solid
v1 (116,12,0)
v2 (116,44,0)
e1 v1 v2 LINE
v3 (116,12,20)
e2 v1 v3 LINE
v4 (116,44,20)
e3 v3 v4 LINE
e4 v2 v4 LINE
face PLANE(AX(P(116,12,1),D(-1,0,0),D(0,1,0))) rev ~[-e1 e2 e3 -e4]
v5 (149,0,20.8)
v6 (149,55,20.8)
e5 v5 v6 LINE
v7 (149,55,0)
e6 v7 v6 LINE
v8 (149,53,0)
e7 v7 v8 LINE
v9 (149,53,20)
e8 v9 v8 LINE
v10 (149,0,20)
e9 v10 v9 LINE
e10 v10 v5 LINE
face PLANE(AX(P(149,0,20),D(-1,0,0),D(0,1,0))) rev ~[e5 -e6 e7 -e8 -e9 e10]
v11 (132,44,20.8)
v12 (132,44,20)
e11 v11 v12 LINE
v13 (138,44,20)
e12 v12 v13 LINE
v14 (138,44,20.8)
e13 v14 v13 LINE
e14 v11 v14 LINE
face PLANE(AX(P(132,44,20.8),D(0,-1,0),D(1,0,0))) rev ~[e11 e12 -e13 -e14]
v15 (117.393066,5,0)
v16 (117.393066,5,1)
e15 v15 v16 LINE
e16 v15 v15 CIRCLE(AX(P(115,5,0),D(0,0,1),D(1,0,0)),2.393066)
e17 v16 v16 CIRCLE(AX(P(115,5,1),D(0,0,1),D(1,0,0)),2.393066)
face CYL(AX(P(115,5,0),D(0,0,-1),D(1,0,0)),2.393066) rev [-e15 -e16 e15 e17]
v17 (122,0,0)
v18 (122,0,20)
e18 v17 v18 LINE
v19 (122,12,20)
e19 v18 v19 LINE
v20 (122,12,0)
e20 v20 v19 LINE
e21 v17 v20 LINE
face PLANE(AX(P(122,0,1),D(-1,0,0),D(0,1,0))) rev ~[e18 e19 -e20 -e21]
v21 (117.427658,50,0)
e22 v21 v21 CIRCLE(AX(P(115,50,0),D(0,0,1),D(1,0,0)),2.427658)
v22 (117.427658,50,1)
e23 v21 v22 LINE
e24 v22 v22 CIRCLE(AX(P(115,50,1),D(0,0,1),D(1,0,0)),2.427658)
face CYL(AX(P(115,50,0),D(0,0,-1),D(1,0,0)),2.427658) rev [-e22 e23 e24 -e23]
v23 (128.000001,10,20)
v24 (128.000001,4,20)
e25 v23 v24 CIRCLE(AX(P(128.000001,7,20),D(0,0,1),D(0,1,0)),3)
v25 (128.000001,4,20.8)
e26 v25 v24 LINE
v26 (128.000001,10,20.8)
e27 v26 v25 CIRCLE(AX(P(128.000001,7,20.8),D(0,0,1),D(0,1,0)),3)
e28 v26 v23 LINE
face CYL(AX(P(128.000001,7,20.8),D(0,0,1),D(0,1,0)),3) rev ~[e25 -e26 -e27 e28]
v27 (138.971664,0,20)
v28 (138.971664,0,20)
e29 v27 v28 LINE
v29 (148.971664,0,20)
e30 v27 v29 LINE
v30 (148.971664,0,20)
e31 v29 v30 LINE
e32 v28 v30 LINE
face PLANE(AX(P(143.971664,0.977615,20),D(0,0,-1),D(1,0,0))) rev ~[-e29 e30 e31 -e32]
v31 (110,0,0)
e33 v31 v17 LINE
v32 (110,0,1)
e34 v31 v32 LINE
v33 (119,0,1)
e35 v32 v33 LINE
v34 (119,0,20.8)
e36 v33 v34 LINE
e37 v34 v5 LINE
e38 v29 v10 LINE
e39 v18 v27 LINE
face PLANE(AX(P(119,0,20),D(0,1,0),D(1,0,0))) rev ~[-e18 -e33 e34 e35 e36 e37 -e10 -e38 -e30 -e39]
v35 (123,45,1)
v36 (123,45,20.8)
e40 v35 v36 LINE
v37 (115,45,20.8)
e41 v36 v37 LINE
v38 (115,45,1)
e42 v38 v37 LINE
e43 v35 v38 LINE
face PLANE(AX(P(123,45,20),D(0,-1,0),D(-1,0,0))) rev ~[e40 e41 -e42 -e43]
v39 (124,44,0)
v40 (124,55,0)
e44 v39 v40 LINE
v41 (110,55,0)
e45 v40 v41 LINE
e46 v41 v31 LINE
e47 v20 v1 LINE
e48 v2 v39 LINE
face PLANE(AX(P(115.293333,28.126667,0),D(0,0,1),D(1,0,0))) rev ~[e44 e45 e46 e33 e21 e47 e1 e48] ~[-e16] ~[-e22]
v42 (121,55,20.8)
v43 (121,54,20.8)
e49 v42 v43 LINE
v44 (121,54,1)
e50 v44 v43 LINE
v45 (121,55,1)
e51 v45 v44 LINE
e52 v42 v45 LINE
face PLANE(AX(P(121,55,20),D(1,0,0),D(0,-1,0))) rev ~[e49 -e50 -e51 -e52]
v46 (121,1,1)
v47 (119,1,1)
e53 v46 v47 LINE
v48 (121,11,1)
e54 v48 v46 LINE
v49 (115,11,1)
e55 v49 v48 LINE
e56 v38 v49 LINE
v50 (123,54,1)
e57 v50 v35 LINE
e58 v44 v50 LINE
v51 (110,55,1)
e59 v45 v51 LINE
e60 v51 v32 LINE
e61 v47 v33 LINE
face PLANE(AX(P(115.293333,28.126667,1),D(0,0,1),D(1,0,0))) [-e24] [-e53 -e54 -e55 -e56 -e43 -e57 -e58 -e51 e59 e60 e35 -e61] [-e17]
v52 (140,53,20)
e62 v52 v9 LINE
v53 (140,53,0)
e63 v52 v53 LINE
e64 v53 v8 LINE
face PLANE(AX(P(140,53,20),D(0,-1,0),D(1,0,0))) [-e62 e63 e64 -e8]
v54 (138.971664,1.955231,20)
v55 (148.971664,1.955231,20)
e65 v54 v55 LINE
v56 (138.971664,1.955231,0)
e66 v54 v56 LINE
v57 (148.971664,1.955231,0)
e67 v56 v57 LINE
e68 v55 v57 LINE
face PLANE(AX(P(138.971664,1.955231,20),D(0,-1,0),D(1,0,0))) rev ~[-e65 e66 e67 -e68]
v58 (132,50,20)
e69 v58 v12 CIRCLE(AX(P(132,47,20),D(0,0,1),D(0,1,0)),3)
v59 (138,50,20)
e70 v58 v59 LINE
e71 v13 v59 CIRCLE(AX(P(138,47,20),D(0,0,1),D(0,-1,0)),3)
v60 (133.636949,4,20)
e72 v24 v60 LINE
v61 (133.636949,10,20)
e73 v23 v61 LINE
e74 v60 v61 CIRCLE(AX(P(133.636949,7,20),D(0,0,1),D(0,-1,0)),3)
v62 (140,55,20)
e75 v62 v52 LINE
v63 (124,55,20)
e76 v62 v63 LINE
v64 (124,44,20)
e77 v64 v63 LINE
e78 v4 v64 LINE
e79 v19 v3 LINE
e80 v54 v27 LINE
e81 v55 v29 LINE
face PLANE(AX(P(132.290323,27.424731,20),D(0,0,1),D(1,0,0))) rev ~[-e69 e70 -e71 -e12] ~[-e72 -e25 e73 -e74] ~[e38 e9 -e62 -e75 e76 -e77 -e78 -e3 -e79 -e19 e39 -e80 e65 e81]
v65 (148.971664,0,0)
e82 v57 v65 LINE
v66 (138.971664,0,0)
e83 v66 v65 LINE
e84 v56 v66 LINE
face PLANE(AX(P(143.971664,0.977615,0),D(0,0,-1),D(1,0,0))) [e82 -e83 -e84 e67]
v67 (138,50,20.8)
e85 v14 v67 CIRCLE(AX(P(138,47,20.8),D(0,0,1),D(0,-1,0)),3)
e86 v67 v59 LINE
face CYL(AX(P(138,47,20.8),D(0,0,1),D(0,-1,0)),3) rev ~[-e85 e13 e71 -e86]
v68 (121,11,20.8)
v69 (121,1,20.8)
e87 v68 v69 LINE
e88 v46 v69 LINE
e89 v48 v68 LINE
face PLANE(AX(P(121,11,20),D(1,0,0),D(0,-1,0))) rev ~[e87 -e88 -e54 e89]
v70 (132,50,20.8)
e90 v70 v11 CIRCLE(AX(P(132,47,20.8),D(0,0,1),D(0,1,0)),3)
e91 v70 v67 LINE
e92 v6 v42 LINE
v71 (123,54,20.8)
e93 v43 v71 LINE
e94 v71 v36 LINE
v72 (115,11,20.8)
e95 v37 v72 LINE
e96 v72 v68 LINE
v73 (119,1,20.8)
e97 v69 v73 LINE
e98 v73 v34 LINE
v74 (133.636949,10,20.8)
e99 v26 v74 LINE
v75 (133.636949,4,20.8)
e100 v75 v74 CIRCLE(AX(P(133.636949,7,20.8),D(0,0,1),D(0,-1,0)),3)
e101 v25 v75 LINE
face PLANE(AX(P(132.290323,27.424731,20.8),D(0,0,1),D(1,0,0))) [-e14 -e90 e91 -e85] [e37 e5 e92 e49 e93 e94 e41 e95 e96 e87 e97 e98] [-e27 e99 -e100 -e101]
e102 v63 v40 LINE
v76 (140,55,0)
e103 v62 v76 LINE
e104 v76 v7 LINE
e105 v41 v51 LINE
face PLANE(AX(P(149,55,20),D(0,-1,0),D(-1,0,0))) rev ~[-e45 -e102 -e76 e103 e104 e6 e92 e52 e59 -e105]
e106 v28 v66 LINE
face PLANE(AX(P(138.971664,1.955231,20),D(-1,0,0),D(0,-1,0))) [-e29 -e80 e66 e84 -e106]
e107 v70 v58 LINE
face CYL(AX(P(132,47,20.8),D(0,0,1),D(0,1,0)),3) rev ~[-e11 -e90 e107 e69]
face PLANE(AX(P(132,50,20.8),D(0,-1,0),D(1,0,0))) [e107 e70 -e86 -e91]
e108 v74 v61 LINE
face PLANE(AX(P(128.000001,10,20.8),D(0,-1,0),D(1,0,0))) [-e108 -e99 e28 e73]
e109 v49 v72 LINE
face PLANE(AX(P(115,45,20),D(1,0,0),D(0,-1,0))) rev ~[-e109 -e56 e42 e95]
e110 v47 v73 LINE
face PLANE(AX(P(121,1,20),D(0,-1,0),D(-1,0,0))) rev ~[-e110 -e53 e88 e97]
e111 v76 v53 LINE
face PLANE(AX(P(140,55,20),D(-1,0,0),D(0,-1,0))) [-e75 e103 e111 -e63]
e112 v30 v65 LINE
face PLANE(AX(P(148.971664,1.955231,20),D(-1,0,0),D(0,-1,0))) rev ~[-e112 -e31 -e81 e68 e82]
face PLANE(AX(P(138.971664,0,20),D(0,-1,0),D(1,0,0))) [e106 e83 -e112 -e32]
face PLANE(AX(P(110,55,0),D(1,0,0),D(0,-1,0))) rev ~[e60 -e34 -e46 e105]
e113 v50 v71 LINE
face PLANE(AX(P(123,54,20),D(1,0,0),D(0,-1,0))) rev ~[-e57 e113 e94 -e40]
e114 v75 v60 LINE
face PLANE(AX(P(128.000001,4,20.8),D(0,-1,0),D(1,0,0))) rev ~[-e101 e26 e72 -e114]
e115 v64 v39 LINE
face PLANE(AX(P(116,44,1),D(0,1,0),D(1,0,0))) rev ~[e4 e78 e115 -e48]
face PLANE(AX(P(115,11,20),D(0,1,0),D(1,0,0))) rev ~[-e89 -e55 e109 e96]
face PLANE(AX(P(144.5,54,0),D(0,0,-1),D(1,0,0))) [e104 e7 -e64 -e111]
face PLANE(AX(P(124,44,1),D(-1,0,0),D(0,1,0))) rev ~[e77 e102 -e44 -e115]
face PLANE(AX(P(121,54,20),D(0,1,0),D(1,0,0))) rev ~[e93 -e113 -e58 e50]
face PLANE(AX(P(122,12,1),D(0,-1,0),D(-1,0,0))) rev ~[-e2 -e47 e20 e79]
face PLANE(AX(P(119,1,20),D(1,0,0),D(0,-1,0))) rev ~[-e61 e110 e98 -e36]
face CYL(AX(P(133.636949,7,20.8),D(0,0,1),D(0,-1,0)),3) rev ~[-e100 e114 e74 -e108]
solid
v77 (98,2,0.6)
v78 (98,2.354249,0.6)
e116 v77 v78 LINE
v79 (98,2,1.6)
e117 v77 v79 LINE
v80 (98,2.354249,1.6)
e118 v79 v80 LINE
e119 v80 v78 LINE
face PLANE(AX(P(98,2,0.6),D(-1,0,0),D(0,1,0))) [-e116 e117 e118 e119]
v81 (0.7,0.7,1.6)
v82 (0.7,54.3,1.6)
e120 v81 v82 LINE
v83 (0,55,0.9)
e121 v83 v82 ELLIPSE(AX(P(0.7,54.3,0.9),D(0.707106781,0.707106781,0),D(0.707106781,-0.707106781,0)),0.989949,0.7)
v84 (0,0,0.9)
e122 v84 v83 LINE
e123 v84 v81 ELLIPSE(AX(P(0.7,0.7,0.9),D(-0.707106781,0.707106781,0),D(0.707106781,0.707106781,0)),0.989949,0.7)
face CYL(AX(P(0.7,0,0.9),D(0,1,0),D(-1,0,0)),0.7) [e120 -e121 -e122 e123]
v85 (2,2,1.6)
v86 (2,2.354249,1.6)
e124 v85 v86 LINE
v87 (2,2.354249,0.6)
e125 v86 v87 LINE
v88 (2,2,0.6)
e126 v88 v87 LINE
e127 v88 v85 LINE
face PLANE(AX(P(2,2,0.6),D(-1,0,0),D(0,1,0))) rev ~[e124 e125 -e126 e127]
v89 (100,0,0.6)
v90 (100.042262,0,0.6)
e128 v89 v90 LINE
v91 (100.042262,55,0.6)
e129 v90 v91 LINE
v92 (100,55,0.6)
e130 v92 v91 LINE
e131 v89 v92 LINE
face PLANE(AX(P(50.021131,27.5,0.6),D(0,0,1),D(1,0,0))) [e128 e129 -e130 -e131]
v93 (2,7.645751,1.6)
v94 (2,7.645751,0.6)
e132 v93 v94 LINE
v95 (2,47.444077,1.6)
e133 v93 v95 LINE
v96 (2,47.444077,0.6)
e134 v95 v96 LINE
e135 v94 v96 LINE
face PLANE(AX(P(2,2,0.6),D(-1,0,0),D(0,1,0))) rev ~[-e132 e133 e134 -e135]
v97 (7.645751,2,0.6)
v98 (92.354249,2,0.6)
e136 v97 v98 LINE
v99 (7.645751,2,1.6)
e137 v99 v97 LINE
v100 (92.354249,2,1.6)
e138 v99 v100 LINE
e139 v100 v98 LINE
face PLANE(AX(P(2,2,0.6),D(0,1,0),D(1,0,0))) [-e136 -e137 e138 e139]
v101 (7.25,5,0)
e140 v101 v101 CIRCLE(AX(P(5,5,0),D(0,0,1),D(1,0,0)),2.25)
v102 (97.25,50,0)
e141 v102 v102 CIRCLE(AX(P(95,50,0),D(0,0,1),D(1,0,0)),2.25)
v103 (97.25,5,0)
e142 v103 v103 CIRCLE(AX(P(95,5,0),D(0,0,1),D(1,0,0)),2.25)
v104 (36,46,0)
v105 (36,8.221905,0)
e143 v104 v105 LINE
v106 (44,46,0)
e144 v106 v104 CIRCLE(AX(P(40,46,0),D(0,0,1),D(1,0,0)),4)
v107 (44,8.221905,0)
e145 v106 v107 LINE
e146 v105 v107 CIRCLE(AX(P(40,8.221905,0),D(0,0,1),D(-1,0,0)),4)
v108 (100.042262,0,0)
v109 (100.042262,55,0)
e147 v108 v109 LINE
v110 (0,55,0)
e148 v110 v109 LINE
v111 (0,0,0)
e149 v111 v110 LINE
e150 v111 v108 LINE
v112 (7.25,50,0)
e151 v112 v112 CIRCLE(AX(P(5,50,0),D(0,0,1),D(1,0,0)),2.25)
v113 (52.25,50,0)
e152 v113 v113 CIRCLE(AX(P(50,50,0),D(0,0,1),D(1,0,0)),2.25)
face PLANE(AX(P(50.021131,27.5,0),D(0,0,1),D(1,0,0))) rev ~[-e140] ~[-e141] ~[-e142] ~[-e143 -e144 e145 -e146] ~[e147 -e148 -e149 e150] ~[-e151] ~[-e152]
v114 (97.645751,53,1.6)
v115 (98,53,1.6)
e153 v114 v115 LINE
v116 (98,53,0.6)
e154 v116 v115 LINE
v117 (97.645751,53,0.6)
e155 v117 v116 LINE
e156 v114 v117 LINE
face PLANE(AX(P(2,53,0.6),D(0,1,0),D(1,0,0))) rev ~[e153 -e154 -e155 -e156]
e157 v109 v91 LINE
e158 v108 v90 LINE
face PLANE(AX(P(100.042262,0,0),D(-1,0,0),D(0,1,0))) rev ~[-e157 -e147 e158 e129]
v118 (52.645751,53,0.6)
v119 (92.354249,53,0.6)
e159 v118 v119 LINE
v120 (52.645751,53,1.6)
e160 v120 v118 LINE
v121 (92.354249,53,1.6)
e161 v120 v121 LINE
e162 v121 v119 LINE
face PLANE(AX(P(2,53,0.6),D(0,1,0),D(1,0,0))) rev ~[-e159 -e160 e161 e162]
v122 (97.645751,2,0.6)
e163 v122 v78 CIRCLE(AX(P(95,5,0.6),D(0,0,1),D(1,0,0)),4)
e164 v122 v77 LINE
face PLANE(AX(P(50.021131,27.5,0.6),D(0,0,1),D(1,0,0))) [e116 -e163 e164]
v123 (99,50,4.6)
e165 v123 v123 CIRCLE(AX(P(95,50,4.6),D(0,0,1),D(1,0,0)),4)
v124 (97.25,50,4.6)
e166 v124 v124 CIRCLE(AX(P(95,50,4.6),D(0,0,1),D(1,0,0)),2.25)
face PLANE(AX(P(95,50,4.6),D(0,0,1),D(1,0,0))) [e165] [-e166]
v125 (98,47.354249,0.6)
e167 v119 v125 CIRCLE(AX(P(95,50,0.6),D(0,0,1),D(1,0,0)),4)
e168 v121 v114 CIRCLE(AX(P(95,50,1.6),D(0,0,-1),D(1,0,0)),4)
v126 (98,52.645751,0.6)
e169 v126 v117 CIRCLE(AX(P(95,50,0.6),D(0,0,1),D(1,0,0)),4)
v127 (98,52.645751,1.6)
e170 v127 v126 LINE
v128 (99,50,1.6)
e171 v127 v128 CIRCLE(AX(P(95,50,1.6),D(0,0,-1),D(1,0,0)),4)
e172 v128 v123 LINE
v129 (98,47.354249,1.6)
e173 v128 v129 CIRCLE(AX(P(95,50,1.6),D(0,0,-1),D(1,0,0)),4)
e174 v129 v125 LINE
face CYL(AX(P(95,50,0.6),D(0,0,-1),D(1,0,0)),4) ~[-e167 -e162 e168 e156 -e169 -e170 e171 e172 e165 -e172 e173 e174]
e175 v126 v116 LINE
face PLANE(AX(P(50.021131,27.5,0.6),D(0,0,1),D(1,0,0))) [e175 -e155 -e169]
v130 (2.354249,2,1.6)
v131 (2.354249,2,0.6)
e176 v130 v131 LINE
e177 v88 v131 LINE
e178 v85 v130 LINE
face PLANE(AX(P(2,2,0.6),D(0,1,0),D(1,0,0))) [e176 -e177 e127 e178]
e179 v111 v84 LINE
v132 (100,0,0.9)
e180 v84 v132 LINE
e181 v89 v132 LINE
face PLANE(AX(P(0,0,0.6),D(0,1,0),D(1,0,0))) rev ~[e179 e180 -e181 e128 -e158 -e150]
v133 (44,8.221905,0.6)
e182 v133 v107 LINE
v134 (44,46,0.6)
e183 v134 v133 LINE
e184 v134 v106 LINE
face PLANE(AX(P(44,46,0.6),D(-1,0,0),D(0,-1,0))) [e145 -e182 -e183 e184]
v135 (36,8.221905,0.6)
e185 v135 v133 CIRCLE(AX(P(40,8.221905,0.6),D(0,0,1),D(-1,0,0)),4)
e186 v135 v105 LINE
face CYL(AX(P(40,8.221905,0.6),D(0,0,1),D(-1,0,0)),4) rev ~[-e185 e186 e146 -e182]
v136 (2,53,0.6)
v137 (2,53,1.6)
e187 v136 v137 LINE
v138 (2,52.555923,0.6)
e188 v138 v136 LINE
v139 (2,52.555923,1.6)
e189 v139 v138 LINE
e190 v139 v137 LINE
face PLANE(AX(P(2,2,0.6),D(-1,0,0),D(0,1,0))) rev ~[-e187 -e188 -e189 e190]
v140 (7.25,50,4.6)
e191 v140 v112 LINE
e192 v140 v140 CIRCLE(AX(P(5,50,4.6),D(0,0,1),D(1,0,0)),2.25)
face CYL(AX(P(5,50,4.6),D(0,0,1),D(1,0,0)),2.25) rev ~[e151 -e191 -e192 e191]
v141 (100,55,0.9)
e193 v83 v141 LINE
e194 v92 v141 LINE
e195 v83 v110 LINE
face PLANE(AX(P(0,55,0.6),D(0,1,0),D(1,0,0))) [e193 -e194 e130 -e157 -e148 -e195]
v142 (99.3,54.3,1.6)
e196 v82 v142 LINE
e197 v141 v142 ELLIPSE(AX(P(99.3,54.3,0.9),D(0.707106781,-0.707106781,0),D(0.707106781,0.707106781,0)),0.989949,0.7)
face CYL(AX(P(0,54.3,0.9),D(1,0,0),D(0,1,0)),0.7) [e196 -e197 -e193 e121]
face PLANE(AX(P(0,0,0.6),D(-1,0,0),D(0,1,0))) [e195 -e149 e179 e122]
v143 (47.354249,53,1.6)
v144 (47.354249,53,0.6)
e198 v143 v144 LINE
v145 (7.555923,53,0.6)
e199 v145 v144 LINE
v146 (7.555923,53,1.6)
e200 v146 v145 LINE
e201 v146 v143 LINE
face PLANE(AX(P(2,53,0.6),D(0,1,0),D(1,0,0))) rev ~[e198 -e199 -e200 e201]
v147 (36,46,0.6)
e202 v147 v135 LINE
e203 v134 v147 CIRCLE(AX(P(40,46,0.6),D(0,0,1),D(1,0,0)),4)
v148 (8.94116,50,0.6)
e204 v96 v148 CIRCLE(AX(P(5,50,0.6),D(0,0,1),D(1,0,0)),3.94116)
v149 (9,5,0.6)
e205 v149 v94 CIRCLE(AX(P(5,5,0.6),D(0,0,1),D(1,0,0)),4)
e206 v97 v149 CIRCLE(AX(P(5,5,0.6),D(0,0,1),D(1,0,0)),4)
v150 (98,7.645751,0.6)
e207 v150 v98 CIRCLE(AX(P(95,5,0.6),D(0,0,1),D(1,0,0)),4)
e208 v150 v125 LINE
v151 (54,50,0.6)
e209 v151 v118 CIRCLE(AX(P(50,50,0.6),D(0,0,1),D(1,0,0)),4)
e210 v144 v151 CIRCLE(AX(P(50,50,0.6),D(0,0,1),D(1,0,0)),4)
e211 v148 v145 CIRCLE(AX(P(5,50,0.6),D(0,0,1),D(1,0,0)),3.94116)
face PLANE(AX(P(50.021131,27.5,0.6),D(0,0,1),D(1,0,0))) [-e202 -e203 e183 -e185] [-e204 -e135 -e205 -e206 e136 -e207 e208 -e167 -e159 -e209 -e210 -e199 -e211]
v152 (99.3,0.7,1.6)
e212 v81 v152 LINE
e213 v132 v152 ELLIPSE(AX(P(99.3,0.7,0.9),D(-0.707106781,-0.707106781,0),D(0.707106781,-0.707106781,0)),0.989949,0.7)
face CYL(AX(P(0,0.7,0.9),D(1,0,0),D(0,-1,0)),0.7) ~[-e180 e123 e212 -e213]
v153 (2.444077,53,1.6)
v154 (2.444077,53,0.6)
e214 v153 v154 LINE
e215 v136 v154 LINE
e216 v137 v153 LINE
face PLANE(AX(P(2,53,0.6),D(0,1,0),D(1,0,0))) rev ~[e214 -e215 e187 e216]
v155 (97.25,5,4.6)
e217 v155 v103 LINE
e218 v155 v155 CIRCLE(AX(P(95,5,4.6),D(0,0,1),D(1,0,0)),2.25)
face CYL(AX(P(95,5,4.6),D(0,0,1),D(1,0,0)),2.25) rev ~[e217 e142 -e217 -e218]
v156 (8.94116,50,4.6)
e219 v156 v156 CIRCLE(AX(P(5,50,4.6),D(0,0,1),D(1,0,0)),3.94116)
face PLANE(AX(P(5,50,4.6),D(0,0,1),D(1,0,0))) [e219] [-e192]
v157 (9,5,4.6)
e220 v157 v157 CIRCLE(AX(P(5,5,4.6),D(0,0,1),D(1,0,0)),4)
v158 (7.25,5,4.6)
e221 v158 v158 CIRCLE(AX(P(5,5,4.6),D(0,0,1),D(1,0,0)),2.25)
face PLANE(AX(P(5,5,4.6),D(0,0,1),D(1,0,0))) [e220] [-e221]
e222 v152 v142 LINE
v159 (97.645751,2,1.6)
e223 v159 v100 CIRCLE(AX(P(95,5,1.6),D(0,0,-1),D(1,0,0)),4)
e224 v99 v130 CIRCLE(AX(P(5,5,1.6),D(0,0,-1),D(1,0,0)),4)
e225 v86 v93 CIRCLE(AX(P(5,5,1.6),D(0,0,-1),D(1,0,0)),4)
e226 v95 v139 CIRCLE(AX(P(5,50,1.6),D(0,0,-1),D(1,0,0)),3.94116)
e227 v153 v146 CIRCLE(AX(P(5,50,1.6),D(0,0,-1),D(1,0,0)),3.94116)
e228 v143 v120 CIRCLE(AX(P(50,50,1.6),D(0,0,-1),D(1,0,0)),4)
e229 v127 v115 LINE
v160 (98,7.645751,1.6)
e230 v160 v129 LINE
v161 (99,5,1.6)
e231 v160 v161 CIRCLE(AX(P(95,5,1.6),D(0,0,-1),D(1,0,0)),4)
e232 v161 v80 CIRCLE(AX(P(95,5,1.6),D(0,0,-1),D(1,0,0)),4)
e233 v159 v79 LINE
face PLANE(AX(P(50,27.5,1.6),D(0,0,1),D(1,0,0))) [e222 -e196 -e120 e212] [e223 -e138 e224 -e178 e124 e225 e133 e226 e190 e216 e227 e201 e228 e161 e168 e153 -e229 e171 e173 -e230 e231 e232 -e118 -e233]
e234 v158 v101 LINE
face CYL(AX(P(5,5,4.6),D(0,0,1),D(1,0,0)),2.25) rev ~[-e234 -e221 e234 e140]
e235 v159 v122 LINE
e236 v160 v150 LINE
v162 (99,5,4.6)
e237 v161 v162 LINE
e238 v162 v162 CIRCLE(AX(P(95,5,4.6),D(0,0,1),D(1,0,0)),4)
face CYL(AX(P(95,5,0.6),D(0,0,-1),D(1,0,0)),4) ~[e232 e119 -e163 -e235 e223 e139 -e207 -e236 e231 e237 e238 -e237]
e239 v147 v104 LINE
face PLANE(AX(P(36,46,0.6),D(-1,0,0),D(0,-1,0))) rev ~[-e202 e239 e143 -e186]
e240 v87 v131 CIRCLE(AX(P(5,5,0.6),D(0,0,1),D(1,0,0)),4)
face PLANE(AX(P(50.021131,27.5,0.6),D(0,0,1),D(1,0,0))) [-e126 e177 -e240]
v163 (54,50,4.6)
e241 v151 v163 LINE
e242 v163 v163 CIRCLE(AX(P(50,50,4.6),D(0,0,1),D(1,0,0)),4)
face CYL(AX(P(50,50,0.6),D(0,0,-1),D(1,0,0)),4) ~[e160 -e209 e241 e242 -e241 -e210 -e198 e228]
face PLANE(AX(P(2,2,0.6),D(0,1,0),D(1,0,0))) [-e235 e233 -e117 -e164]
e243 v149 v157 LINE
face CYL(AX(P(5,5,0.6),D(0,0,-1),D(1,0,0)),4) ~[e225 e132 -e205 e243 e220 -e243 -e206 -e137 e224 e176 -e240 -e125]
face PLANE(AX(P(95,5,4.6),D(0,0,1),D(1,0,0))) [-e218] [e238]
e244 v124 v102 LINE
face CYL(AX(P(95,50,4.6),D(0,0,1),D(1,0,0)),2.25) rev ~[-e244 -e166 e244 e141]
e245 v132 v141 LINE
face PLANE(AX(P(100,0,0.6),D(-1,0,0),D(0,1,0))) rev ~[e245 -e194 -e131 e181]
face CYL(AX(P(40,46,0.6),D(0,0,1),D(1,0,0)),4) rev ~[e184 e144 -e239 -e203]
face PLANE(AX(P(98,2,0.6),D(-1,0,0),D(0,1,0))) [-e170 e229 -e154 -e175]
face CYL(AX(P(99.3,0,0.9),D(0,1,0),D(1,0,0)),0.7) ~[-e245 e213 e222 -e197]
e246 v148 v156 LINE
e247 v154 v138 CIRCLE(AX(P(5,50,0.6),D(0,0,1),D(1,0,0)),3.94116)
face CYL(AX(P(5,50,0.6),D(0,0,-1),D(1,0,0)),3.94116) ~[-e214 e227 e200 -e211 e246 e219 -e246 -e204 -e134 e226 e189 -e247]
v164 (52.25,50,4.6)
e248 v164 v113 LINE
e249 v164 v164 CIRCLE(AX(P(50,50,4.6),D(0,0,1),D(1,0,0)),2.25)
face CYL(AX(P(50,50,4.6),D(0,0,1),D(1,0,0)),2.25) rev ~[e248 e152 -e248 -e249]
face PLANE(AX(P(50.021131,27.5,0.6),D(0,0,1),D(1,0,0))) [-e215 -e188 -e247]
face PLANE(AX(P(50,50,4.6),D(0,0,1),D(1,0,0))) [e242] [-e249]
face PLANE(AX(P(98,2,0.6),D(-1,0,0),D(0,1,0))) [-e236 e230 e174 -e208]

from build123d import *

# Parameters (mm, degrees)
SKETCH_W        = 100.042262
SKETCH_H        = 55
PAD_DEPTH       = 0.6
SKETCH001_R     = 3.94116
SKETCH001_R_2   = 4
PAD001_DEPTH    = 4
POCKET_DEPTH    = 5
SKETCH003_W     = 100
SKETCH003_H     = 55
SKETCH003_W_2   = 96
SKETCH003_H_2   = 51
PAD002_DEPTH    = 1
FILLET_R        = 0.7
SKETCH004_R     = 2.25
HOLE_DEPTH      = 25
SKETCH005_R     = 2.427658
SKETCH005_R_2   = 2.393066
PAD003_DEPTH    = 1
PAD004_DEPTH    = 19
PAD005_DEPTH    = 0.8
SKETCH008_W     = 10
SKETCH008_H     = 1.955231
SKETCH008_W_2   = 9
SKETCH008_H_2   = 2
PAD006_DEPTH    = 20
POCKET001_DEPTH = 5


with BuildPart() as insulator:
    # Sketch → Pad (new body)
    with BuildSketch(Plane.XY):
        with Locations((50.021131, 27.5)):
            Rectangle(SKETCH_W, SKETCH_H)
    extrude(amount=PAD_DEPTH)

    # Sketch001 (on Face6 of Pad) → Pad001 (join)
    with BuildSketch(Plane.XY.offset(0.6)):
        with Locations((5, 50)):
            Circle(SKETCH001_R)
        with Locations((95, 50)):
            Circle(SKETCH001_R_2)
        with Locations((5, 5)):
            Circle(SKETCH001_R_2)
        with Locations((95, 5)):
            Circle(SKETCH001_R_2)
        with Locations((50, 50)):
            Circle(SKETCH001_R_2)
    extrude(amount=PAD001_DEPTH)

    # Sketch002 (on Face5 of Pad001) → Pocket (cut)
    with BuildSketch(Plane.XY.offset(0.6)):
        with BuildLine():
            ThreePointArc((44, 46), (40, 50), (36, 46))
            Line((36, 46), (36, 8.221905))
            ThreePointArc((36, 8.221905), (40, 4.221905), (44, 8.221905))
            Line((44, 46), (44, 8.221905))
        make_face()
    extrude(amount=-POCKET_DEPTH, mode=Mode.SUBTRACT)

    # Sketch003 (on Face5 of Pocket) → Pad002 (join)
    with BuildSketch(Plane.XY.offset(0.6)):
        with Locations((50, 27.5)):
            Rectangle(SKETCH003_W, SKETCH003_H)
        with Locations((50, 27.5)):
            Rectangle(SKETCH003_W_2, SKETCH003_H_2, mode=Mode.SUBTRACT)
    extrude(amount=PAD002_DEPTH)

    # Fillet
    fillet_edges = [insulator.edges().sort_by_distance(p)[0] for p in [
        (50, 55, 1.6),
        (0, 27.5, 1.6),
        (50, 0, 1.6),
        (100, 27.5, 1.6),
    ]]
    fillet(fillet_edges, radius=FILLET_R)

    # Sketch004 (on Face46 of Fillet) → Hole (cut)
    with BuildSketch(Plane.XY.offset(4.6)):
        with Locations((5, 50)):
            Circle(SKETCH004_R)
        with Locations((50, 50)):
            Circle(SKETCH004_R)
        with Locations((5, 5)):
            Circle(SKETCH004_R)
        with Locations((95, 50)):
            Circle(SKETCH004_R)
        with Locations((95, 5)):
            Circle(SKETCH004_R)
    extrude(amount=-HOLE_DEPTH, mode=Mode.SUBTRACT)


with BuildPart() as body001:
    # Sketch005 → Pad003 (new body)
    with BuildSketch(Plane.XY):
        Polygon((110, 55), (110, 0), (122, 0), (122, 12), (116, 12), (116, 44), (124, 44), (124, 55), align=None)
        with Locations((115, 50)):
            Circle(SKETCH005_R, mode=Mode.SUBTRACT)
        with Locations((115, 5)):
            Circle(SKETCH005_R_2, mode=Mode.SUBTRACT)
    extrude(amount=PAD003_DEPTH)

    # Sketch006 (on Face12 of Pad003) → Pad004 (join)
    with BuildSketch(Plane.XY.offset(1)):
        Polygon((121, 55), (121, 54), (123, 54), (123, 45), (115, 45), (115, 11), (121, 11), (121, 1), (119, 1), (119, 0), (122, 0), (122, 12), (116, 12), (116, 44), (124, 44), (124, 55), align=None)
    extrude(amount=PAD004_DEPTH)

    # Sketch007 (on Face25 of Pad004) → Pad005 (join)
    with BuildSketch(Plane.XY.offset(20)):
        Polygon((121, 55), (121, 54), (123, 54), (123, 45), (115, 45), (115, 11), (121, 11), (121, 1), (119, 1), (119, 0), (149, 0), (149, 55), align=None)
    extrude(amount=PAD005_DEPTH)

    # Sketch008 (on Face40 of Pad005) → Pad006 (join)
    with BuildSketch(Plane(origin=(0, 0, 20), x_dir=(1, 0, 0), z_dir=(0, 0, -1))):
        with Locations((143.971664, -0.977615)):
            Rectangle(SKETCH008_W, SKETCH008_H)
        with Locations((144.5, -54)):
            Rectangle(SKETCH008_W_2, SKETCH008_H_2)
    extrude(amount=PAD006_DEPTH)

    # Sketch009 (on Face43 of Pad006) → Pocket001 (cut)
    with BuildSketch(Plane.XY.offset(20.8)):
        with BuildLine():
            ThreePointArc((132, 50), (129, 47), (132, 44))
            Line((132, 44), (138, 44))
            ThreePointArc((138, 44), (141, 47), (138, 50))
            Line((132, 50), (138, 50))
        make_face()
        with BuildLine():
            ThreePointArc((128.000001, 10), (125.000001, 7), (128.000001, 4))
            Line((128.000001, 4), (133.636949, 4))
            ThreePointArc((133.636949, 4), (136.636949, 7), (133.636949, 10))
            Line((128.000001, 10), (133.636949, 10))
        make_face()
    extrude(amount=-POCKET001_DEPTH, mode=Mode.SUBTRACT)


solid = Compound([insulator.part, body001.part])
